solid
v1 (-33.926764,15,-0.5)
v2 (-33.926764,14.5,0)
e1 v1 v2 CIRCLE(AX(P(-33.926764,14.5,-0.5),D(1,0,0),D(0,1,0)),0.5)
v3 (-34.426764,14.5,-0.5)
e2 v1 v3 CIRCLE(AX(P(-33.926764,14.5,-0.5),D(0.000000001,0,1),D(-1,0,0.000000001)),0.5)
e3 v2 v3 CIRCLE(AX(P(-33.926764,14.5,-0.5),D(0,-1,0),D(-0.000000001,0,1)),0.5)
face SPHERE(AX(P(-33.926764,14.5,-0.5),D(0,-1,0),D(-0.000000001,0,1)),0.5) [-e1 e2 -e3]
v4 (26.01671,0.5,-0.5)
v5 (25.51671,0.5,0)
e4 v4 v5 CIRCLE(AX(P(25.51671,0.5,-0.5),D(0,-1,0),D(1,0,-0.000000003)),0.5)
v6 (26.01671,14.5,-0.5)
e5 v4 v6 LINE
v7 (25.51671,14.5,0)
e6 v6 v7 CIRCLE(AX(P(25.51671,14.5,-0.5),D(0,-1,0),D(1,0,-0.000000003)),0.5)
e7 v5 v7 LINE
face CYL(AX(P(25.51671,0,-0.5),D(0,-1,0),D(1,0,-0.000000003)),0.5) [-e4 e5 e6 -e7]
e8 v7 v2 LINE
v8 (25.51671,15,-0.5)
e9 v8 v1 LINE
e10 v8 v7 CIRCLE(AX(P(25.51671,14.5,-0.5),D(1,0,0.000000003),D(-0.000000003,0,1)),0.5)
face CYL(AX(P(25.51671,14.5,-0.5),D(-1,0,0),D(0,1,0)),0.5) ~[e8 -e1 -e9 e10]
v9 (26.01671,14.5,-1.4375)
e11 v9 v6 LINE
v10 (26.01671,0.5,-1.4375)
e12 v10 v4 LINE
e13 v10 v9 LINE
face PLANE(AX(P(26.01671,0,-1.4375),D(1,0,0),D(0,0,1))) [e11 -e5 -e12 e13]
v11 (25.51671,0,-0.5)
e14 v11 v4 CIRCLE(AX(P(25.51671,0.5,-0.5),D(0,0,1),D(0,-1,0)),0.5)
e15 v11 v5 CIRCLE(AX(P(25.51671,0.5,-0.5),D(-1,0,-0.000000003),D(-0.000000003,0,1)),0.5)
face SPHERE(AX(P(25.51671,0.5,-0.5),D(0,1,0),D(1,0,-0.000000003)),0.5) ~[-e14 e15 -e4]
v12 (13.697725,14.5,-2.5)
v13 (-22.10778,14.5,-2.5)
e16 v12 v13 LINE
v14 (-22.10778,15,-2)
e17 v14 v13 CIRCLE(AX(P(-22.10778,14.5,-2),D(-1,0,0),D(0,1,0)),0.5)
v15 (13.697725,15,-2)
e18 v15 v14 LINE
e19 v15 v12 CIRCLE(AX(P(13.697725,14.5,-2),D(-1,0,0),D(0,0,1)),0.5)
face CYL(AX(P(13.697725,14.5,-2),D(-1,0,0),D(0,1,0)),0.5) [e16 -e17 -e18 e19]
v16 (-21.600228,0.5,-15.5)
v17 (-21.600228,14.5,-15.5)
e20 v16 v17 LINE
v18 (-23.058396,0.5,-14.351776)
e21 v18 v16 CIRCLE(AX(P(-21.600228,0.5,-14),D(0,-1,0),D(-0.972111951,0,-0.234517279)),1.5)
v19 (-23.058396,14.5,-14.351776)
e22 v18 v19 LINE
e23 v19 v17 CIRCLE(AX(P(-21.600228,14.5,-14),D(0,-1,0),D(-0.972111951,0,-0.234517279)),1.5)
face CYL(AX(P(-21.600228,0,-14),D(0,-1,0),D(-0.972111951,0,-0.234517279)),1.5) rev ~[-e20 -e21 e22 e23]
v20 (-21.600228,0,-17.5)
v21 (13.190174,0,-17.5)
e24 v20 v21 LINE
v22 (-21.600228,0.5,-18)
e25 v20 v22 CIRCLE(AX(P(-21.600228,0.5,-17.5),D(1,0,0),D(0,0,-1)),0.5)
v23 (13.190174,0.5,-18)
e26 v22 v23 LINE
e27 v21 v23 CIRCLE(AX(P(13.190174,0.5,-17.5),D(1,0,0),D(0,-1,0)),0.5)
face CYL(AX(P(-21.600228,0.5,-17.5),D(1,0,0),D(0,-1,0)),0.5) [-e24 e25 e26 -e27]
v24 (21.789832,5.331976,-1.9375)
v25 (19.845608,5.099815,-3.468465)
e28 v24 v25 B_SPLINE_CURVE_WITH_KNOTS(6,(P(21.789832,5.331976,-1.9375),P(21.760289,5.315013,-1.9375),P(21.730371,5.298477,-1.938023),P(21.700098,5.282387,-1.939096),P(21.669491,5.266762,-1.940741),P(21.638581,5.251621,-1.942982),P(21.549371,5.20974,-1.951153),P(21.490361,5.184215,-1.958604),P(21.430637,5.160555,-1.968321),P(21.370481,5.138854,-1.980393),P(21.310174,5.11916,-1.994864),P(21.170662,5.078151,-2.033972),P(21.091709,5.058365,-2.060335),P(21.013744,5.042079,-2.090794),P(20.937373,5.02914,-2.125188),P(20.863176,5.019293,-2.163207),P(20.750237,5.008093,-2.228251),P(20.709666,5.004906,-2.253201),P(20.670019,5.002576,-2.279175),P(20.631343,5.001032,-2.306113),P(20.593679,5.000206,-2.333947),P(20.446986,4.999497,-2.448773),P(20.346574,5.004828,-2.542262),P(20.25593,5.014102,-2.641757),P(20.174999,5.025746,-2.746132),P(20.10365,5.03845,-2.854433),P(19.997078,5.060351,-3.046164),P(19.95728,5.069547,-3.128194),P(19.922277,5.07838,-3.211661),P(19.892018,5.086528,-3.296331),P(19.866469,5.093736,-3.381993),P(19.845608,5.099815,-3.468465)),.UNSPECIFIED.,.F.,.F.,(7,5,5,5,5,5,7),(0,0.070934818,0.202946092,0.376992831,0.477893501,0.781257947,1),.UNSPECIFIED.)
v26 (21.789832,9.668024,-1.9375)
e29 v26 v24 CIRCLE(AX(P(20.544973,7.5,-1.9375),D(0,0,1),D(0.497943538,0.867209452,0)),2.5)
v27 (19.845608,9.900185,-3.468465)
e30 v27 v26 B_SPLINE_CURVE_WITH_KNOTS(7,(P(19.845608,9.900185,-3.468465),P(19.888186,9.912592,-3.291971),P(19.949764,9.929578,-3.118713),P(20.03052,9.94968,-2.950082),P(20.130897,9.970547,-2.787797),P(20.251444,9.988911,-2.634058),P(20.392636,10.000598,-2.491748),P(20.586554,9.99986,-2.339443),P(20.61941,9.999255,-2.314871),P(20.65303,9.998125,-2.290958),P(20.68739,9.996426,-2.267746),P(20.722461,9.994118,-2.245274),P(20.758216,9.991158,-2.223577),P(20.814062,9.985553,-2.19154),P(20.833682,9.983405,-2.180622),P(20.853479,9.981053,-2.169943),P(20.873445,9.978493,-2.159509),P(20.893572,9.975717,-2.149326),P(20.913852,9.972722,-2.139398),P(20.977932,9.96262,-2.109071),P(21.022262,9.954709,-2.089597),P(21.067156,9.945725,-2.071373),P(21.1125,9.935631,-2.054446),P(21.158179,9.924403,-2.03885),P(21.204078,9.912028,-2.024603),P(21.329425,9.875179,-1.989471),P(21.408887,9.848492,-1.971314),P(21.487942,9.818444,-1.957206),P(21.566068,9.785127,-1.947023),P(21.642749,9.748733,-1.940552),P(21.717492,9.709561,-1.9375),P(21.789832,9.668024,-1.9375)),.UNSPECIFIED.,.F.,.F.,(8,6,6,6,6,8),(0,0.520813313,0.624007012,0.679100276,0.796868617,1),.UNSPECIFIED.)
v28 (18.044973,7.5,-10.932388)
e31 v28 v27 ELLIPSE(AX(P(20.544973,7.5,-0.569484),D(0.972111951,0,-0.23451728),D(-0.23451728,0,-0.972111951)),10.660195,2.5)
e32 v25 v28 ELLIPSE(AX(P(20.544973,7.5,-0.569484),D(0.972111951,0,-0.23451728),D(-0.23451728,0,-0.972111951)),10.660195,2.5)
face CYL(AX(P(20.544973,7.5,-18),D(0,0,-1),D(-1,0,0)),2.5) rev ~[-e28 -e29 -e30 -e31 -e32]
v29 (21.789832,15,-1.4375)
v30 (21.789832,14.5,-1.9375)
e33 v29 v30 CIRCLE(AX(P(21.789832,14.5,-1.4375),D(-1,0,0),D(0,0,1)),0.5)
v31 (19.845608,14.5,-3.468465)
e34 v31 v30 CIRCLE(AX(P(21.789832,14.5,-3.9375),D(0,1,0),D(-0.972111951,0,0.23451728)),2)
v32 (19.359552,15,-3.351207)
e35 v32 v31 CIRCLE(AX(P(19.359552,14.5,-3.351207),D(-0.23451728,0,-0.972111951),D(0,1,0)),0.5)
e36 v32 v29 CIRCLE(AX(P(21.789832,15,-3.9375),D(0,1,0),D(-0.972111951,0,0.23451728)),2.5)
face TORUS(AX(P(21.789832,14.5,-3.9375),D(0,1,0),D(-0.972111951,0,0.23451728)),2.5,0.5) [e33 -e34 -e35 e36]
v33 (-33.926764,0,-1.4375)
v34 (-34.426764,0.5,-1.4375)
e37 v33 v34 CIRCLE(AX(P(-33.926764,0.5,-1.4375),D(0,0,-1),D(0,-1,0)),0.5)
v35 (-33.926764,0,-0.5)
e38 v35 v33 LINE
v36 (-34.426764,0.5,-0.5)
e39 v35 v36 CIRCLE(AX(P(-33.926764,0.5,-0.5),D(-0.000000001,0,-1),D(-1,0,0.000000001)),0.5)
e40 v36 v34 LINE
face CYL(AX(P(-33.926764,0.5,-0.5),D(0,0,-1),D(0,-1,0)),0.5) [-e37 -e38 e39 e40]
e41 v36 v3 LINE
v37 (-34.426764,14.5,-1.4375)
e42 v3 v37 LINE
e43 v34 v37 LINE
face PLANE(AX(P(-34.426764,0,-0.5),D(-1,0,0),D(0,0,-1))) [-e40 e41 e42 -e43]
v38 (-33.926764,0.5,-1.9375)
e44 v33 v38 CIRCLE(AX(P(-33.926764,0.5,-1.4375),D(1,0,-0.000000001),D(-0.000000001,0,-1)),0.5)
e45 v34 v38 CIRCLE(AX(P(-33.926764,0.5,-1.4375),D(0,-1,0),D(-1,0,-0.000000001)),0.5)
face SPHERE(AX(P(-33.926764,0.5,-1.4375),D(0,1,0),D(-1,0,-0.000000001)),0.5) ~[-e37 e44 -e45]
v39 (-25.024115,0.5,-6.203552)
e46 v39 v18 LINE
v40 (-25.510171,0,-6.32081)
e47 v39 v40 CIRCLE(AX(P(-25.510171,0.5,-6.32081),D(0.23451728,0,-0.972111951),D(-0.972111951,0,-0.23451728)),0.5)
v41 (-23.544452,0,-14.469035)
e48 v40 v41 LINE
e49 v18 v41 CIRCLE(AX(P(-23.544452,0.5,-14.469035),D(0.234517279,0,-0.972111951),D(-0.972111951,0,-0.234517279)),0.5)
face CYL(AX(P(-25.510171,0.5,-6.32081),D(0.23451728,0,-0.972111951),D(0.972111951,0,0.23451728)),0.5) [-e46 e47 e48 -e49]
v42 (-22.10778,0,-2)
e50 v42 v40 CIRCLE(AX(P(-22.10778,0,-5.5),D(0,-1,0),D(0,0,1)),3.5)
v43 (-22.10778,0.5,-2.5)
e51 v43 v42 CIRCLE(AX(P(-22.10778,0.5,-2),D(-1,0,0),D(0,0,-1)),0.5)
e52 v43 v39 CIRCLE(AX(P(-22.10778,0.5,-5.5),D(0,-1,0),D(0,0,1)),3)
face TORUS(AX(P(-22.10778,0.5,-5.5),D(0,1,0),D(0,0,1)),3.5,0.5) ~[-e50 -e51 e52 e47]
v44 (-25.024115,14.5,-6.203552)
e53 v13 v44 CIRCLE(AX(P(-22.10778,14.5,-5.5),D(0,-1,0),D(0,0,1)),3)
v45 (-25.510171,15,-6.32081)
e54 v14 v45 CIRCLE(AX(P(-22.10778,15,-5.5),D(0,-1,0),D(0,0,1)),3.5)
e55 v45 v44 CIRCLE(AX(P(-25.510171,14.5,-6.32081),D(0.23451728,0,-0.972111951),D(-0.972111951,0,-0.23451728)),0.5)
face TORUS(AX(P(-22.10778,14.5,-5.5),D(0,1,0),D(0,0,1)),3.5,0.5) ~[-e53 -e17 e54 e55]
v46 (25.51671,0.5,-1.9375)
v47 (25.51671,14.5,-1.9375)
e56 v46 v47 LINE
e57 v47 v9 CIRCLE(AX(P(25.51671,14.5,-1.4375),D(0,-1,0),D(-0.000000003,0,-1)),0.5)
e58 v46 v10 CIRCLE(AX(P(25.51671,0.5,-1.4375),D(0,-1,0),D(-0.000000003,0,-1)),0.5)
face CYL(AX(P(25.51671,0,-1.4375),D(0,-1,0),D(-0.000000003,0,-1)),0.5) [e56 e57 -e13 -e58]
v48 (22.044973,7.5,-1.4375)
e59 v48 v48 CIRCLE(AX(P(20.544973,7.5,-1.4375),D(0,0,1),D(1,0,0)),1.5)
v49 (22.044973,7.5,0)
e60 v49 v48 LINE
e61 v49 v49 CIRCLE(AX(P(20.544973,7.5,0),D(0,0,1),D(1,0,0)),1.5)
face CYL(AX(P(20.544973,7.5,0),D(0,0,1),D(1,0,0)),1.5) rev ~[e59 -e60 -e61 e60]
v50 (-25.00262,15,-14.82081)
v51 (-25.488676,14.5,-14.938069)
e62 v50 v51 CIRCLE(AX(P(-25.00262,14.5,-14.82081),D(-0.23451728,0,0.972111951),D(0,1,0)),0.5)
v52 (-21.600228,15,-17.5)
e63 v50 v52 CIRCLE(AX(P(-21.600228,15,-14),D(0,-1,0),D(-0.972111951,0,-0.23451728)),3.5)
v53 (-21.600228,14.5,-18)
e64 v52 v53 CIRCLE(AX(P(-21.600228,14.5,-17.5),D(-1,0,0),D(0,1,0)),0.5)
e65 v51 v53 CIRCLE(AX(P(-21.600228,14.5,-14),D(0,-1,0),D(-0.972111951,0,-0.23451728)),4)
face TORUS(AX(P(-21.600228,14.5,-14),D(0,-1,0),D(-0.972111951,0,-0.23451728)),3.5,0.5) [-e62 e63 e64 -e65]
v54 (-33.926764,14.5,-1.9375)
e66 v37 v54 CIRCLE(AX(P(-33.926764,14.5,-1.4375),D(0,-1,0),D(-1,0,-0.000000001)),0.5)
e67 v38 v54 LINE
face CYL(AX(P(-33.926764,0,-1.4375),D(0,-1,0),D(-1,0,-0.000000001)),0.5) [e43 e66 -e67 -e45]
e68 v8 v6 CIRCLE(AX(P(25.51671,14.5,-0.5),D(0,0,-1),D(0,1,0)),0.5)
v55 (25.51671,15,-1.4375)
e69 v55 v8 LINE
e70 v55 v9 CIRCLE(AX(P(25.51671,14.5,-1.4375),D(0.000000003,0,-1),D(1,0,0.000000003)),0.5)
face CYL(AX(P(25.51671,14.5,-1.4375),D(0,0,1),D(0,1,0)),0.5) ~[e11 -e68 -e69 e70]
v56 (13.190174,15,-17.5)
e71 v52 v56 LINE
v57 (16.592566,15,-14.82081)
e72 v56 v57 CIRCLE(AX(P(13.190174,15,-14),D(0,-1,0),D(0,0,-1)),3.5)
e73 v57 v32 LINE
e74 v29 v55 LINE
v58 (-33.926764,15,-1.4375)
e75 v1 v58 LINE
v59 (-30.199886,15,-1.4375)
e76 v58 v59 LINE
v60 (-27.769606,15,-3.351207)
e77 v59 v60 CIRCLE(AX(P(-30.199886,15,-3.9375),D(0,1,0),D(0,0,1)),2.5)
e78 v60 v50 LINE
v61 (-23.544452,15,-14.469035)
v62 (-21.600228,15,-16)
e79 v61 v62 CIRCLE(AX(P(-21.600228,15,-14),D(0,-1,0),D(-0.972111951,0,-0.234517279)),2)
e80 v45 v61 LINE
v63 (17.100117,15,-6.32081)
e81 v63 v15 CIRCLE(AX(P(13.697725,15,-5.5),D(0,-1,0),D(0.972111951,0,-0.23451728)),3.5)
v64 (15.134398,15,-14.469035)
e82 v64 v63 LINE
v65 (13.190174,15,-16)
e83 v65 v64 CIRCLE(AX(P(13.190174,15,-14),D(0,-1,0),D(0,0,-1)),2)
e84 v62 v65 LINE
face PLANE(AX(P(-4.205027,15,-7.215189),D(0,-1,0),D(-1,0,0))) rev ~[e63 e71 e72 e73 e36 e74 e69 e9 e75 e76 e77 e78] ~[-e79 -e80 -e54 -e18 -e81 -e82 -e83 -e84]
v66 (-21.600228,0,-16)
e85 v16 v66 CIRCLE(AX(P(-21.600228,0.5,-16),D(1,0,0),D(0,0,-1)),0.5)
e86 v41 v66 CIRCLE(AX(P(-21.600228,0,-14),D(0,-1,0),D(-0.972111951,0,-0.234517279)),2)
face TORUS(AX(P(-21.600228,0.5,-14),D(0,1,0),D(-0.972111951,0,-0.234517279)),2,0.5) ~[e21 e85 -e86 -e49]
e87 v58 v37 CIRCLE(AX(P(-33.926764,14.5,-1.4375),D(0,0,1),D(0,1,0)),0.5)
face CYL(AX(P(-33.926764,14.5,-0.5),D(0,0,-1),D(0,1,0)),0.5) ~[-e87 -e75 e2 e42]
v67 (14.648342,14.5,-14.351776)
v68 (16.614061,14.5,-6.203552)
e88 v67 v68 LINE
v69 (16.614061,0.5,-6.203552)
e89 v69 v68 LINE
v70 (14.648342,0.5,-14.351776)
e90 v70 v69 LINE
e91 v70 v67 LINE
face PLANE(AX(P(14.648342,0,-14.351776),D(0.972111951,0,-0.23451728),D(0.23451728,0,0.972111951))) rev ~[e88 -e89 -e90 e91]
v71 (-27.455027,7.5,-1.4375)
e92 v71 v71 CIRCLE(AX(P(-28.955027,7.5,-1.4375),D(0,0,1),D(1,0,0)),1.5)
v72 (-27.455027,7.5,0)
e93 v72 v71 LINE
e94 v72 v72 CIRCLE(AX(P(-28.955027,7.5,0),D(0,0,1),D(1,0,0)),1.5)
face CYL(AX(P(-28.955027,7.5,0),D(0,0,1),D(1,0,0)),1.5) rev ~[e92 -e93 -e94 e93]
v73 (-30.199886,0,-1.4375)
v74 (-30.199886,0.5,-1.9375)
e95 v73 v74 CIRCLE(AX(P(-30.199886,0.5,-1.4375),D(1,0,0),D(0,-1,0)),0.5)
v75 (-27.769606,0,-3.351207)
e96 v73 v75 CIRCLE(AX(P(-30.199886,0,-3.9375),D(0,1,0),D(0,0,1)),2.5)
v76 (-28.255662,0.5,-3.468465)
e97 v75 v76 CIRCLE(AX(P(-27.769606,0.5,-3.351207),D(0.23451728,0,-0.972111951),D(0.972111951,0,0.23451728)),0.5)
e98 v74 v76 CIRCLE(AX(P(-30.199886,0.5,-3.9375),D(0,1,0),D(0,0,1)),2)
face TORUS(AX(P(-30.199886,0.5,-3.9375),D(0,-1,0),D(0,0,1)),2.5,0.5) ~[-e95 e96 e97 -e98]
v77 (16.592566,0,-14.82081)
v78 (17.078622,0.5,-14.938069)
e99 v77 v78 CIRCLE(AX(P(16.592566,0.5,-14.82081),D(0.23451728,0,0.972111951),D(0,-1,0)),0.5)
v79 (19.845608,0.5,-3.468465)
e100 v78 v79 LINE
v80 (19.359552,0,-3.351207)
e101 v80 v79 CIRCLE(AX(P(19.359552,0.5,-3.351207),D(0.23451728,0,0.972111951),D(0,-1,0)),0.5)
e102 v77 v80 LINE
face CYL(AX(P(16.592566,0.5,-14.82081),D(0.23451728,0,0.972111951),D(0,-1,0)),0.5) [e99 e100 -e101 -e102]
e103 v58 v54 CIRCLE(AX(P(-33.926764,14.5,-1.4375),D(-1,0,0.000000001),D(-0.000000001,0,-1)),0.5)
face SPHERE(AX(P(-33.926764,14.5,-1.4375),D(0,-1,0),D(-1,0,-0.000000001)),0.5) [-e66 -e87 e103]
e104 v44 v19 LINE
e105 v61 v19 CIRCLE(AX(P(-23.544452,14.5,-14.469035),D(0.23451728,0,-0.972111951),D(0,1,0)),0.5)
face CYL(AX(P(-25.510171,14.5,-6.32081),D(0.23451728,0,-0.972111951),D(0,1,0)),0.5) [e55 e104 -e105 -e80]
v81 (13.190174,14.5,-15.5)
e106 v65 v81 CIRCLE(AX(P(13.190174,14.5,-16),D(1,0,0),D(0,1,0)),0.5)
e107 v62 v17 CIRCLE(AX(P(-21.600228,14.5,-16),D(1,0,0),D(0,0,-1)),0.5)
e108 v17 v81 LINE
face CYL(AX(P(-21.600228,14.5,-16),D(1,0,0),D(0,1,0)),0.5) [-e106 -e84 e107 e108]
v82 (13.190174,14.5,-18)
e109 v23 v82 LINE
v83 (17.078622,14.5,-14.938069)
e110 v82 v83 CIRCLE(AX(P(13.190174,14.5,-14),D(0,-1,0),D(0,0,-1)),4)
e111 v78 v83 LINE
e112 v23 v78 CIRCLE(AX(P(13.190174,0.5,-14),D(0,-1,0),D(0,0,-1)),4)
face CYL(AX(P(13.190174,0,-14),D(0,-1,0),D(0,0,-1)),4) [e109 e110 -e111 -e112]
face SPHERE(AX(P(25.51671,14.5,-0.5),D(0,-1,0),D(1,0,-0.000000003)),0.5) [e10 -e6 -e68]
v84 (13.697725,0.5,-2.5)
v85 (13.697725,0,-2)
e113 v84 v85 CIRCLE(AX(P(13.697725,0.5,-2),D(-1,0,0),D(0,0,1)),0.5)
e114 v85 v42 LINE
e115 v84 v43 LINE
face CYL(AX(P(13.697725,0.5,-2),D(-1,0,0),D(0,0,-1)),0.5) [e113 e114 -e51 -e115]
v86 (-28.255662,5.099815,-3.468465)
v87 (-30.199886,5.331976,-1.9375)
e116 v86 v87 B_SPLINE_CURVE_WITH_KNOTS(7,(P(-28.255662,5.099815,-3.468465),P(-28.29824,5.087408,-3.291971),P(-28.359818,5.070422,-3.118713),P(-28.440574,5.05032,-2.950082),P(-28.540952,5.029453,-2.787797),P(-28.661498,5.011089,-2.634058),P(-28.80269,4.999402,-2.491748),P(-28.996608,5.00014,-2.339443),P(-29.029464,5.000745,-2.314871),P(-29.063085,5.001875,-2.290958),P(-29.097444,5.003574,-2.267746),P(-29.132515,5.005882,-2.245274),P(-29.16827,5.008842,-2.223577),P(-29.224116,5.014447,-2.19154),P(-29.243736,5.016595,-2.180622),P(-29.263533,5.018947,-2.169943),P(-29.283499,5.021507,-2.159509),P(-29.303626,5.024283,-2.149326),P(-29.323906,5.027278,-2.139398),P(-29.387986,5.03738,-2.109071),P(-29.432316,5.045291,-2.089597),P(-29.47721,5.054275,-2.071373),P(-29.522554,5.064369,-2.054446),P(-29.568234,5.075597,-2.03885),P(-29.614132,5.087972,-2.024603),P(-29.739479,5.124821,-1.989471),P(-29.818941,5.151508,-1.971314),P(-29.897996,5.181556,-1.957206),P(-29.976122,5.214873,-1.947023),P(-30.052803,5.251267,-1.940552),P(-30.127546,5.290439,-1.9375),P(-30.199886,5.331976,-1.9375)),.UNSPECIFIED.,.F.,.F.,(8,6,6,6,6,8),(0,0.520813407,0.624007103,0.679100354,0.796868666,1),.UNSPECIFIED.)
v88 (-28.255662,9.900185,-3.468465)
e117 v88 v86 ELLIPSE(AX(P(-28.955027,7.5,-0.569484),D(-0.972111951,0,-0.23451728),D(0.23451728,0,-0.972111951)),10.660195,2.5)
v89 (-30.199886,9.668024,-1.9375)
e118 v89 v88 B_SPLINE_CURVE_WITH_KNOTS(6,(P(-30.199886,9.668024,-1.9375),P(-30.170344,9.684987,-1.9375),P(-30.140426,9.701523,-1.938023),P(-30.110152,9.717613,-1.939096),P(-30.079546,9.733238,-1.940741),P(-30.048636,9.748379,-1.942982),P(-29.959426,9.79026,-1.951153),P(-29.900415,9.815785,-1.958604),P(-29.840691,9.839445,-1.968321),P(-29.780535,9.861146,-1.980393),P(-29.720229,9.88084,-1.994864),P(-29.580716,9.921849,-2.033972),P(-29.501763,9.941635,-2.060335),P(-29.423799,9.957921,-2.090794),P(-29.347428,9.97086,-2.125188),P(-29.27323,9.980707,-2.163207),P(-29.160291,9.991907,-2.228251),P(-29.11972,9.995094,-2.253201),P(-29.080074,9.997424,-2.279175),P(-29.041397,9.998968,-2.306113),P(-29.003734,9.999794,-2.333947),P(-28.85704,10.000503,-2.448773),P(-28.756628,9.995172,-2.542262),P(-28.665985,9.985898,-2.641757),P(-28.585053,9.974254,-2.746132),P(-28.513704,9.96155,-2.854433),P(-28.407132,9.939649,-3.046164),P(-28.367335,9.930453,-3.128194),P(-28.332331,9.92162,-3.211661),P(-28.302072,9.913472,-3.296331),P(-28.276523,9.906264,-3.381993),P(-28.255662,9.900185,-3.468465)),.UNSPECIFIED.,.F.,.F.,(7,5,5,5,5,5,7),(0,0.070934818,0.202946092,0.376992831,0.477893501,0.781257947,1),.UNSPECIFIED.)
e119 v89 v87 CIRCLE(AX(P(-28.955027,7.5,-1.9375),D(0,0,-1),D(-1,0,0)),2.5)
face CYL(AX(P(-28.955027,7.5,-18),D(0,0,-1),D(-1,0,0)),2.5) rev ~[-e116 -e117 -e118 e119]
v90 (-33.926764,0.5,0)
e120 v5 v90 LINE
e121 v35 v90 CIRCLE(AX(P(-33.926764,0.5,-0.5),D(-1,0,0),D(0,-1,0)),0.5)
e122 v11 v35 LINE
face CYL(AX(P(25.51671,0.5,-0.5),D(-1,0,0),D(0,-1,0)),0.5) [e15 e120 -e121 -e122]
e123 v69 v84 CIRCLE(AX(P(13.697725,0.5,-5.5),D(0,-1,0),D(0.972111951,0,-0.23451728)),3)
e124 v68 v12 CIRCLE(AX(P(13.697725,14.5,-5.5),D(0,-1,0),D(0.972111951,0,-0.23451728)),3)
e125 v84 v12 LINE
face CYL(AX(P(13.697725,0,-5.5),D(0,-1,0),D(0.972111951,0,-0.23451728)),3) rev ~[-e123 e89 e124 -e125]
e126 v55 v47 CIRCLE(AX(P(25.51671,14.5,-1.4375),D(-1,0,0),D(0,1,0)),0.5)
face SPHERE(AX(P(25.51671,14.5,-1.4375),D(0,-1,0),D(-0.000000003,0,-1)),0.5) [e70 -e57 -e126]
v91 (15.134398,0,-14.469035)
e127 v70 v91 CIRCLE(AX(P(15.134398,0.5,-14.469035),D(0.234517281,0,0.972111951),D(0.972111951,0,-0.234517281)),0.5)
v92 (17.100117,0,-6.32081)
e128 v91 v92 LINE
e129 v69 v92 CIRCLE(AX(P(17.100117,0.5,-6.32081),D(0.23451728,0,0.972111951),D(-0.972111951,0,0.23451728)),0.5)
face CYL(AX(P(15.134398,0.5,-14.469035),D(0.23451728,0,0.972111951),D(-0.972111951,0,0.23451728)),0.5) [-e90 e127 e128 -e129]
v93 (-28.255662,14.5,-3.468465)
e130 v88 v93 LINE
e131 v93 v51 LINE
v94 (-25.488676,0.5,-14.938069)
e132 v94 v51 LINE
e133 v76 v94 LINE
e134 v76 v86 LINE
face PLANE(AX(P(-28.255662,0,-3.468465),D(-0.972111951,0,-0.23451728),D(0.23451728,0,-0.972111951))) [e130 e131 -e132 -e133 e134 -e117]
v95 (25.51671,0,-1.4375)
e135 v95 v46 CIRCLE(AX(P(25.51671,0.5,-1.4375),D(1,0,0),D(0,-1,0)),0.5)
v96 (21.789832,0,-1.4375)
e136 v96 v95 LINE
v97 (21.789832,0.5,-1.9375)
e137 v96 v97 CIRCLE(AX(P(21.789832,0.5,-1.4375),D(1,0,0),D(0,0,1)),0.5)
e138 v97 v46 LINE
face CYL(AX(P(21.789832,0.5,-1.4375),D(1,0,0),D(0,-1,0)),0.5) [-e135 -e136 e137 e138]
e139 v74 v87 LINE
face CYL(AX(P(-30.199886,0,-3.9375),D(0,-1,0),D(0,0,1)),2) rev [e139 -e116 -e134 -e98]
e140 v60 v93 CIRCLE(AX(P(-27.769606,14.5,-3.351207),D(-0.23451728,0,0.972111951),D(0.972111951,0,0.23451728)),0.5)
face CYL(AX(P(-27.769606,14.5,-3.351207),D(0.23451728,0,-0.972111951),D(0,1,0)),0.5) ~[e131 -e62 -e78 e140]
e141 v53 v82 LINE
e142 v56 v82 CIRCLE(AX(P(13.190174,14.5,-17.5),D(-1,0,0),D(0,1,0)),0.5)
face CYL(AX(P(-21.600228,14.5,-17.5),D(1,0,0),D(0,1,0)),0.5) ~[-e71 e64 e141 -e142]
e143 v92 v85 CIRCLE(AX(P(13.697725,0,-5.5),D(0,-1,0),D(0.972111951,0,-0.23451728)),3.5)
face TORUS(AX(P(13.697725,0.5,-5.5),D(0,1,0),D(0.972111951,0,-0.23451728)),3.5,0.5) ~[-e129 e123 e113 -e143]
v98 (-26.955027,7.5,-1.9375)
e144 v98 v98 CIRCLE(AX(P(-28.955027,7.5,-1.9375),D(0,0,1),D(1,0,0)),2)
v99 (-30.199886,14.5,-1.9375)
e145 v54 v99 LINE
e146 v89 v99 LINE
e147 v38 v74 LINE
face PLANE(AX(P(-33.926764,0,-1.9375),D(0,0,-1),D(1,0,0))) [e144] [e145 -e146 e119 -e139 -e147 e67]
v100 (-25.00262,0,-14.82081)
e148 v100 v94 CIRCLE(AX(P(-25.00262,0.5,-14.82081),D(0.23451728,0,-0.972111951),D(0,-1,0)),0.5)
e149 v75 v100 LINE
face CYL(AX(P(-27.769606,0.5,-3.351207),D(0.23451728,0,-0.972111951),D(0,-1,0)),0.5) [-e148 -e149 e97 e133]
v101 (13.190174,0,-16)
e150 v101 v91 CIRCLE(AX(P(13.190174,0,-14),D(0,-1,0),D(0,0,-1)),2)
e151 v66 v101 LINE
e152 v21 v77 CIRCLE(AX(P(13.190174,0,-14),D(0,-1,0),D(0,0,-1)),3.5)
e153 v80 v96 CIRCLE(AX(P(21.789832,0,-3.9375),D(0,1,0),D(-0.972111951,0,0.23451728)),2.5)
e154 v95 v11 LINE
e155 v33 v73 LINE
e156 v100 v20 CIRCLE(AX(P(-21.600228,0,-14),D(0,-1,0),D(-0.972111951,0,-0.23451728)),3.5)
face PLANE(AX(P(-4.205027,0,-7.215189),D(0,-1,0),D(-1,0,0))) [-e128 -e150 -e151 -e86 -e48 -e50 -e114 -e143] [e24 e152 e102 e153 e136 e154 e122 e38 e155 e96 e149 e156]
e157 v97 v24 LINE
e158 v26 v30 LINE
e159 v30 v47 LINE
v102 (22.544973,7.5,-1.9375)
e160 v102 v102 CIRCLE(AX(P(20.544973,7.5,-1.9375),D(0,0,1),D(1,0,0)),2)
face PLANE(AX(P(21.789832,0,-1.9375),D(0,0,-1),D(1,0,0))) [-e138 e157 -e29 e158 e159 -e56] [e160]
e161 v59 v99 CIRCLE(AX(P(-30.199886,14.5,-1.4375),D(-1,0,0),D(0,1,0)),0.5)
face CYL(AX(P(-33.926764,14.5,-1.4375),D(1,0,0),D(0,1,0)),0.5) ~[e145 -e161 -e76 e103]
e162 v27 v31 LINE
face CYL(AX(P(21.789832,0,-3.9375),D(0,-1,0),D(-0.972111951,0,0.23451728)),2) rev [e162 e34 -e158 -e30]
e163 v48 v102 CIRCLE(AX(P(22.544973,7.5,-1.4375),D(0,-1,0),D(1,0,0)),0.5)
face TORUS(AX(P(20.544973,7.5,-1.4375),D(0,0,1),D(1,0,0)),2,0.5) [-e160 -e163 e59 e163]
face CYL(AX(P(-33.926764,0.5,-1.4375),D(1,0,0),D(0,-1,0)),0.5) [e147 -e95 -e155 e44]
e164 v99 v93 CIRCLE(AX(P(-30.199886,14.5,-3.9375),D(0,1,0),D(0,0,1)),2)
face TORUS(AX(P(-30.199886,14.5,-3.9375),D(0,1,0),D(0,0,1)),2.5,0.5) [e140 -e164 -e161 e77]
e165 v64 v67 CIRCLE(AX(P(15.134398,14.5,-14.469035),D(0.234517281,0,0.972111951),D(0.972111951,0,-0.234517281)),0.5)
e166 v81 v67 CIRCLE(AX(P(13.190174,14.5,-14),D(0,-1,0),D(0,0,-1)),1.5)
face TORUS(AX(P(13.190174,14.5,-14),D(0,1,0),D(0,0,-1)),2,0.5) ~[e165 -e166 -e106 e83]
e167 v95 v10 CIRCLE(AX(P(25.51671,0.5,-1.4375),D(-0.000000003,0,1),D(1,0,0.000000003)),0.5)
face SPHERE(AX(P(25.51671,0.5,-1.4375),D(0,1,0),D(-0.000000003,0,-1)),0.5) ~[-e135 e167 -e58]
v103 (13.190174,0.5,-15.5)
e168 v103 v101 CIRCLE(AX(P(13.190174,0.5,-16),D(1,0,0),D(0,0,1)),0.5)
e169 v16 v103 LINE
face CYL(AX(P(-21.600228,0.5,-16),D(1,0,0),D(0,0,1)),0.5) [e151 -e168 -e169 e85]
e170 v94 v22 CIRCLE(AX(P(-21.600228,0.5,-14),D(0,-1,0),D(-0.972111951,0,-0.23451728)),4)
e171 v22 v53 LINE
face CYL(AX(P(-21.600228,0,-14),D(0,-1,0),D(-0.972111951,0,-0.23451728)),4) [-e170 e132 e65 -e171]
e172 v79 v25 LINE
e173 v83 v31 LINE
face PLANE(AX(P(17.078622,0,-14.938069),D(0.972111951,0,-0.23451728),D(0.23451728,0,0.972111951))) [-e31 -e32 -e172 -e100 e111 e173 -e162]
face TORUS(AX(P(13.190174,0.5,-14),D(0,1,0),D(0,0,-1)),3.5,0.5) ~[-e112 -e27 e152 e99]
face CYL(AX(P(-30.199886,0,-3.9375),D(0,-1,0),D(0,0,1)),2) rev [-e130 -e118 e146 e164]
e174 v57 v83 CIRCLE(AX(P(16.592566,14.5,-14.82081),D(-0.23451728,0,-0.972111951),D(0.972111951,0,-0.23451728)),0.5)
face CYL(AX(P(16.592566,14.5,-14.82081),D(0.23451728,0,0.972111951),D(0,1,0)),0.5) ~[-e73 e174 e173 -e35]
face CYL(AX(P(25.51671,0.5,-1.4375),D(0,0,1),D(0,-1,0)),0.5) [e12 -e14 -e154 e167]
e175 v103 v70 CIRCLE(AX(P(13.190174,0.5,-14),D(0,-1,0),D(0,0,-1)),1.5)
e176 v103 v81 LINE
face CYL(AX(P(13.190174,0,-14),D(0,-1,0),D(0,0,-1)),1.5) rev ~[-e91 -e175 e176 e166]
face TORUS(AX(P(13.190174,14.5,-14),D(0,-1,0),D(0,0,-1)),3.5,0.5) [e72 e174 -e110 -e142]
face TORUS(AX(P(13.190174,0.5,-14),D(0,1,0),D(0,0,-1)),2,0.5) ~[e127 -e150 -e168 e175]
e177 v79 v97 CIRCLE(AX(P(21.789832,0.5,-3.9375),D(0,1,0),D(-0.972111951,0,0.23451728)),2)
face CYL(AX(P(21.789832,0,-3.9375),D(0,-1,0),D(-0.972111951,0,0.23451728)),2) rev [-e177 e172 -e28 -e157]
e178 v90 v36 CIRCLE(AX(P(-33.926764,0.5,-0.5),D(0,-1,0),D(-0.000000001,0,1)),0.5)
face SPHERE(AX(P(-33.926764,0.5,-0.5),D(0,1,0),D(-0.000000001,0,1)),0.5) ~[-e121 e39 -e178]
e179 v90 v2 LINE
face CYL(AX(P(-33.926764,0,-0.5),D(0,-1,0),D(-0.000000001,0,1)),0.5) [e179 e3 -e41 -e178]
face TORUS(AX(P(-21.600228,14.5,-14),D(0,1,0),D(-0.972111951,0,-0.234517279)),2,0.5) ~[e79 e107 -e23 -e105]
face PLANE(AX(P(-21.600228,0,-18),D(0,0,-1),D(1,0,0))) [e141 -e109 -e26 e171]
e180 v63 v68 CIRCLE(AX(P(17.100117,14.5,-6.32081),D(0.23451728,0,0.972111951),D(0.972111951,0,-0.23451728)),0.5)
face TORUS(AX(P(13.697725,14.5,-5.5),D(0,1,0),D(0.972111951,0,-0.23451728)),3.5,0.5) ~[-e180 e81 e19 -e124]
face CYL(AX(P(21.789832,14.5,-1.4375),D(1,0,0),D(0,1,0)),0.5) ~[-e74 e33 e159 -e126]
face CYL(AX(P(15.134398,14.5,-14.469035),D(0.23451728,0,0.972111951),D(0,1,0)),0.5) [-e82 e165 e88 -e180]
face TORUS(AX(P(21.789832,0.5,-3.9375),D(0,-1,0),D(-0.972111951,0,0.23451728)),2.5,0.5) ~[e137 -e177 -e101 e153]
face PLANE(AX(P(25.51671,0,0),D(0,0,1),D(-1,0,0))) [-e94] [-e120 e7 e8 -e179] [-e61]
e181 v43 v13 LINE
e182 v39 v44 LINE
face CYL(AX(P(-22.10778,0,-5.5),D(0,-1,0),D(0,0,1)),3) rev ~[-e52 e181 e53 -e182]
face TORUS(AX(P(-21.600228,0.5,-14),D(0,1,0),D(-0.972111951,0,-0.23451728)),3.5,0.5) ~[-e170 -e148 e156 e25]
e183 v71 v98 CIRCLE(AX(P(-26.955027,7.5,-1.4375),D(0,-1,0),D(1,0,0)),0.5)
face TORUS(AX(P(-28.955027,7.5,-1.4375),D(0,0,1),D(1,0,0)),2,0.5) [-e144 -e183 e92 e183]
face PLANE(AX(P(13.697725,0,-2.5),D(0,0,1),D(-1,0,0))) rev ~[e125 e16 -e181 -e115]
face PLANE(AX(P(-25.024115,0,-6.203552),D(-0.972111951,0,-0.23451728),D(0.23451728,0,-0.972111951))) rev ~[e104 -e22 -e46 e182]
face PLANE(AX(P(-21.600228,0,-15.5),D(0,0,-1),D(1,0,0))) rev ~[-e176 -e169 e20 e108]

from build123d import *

# Parameters (mm, degrees)
BOSS_EXTRUDE3_DEPTH = 15
SKETCH9_R           = 1.5
CUT_EXTRUDE1_DEPTH  = 15
SKETCH10_R          = 2.5
CUT_EXTRUDE2_DEPTH  = 16.0625
FILLET1_R           = 0.5


with BuildPart() as part:
    # Sketch1 → Boss-Extrude3 (new body)
    with BuildSketch(Plane(origin=(0, 0, 0), x_dir=(1, 0, 0), z_dir=(0, 1, 0))):
        with BuildLine():
            ThreePointArc((13.190173945, 18), (15.664817709, 17.142632374), (17.078621749, 14.93806912))
            Line((17.078621749, 14.93806912), (19.845607851, 3.46846544))
            ThreePointArc((19.845607851, 3.46846544), (20.552509871, 2.366183813), (21.789831753, 1.9375))
            Line((21.789831753, 1.9375), (25.516709926, 1.9375))
            ThreePointArc((25.516709926, 1.9375), (25.870263317, 1.791053391), (26.016709926, 1.4375))
            Line((26.016709926, 1.4375), (26.016709926, 0.5))
            ThreePointArc((26.016709926, 0.5), (25.870263317, 0.146446609), (25.516709926, 0))
            Line((25.516709926, 0), (-33.926764109, 0))
            ThreePointArc((-33.926764109, 0), (-34.280317499, 0.146446609), (-34.426764109, 0.5))
            Line((-34.426764109, 0.5), (-34.426764109, 1.4375))
            ThreePointArc((-34.426764109, 1.4375), (-34.280317499, 1.791053391), (-33.926764109, 1.9375))
            Line((-33.926764109, 1.9375), (-30.199885936, 1.9375))
            ThreePointArc((-30.199885936, 1.9375), (-28.962564054, 2.366183813), (-28.255662034, 3.46846544))
            Line((-28.255662034, 3.46846544), (-25.488675932, 14.93806912))
            ThreePointArc((-25.488675932, 14.93806912), (-24.074871892, 17.142632374), (-21.600228128, 18))
            Line((-21.600228128, 18), (13.190173945, 18))
        make_face()
        with BuildLine():
            Line((-21.600228128, 15.5), (13.190173945, 15.5))
            ThreePointArc((13.190173945, 15.5), (14.118165357, 15.17848714), (14.648341872, 14.35177592))
            Line((14.648341872, 14.35177592), (16.6140613, 6.20355184))
            ThreePointArc((16.6140613, 6.20355184), (16.054699727, 3.644017177), (13.697725446, 2.5))
            Line((13.697725446, 2.5), (-22.107779629, 2.5))
            ThreePointArc((-22.107779629, 2.5), (-24.46475391, 3.644017177), (-25.024115482, 6.20355184))
            Line((-25.024115482, 6.20355184), (-23.058396054, 14.35177592))
            ThreePointArc((-23.058396054, 14.35177592), (-22.52821954, 15.17848714), (-21.600228128, 15.5))
        make_face(mode=Mode.SUBTRACT)
    extrude(amount=BOSS_EXTRUDE3_DEPTH)

    # Sketch9 → Cut-Extrude1 (cut)
    with BuildSketch(Plane.XY):
        with Locations((-28.955027091, 7.5)):
            Circle(SKETCH9_R)
        with Locations((20.544972909, 7.5)):
            Circle(SKETCH9_R)
    extrude(amount=-CUT_EXTRUDE1_DEPTH, mode=Mode.SUBTRACT)

    # Sketch10 → Cut-Extrude2 (cut)
    with BuildSketch(Plane(origin=(0, 0, -18), x_dir=(-1, 0, 0), z_dir=(0, 0, -1))):
        with Locations((-20.544972909, 7.5)):
            Circle(SKETCH10_R)
        with Locations((28.955027091, 7.5)):
            Circle(SKETCH10_R)
    extrude(amount=-CUT_EXTRUDE2_DEPTH, mode=Mode.SUBTRACT)

    # Fillet1
    fillet1_edges = [part.edges().sort_by_distance(p)[0] for p in [
        (16.054699727, 15, -3.644017177),
        (-4.205027091, 15, -2.5),
        (-24.46475391, 15, -3.644017177),
        (-24.041255768, 15, -10.27766388),
        (-4.205027091, 15, -18),
        (-22.52821954, 15, -15.17848714),
        (-24.074871892, 15, -17.142632374),
        (-26.872168983, 15, -9.20326728),
        (-22.52821954, 0, -15.17848714),
        (-24.041255768, 0, -10.27766388),
        (-28.962564054, 15, -2.366183813),
        (-24.46475391, 0, -3.644017177),
        (-4.205027091, 0, -2.5),
        (16.054699727, 0, -3.644017177),
        (15.631201586, 0, -10.27766388),
        (14.118165357, 0, -15.17848714),
        (-4.205027091, 0, -15.5),
        (18.4621148, 0, -9.20326728),
        (20.552509871, 0, -2.366183813),
        (23.65327084, 0, -1.9375),
        (25.870263317, 0, -1.791053391),
        (-32.063325022, 15, -1.9375),
        (26.016709926, 0, -0.96875),
        (25.870263317, 0, -0.146446609),
        (-4.205027091, 0, 0),
        (-34.280317499, 0, -0.146446609),
        (-34.426764109, 0, -0.96875),
        (-34.280317499, 0, -1.791053391),
        (-32.063325022, 0, -1.9375),
        (-28.962564054, 0, -2.366183813),
        (-26.872168983, 0, -9.20326728),
        (-24.074871892, 0, -17.142632374),
        (-34.280317499, 15, -1.791053391),
        (-4.205027091, 0, -18),
        (15.664817709, 0, -17.142632374),
        (-34.426764109, 15, -0.96875),
        (-34.280317499, 15, -0.146446609),
        (-4.205027091, 15, 0),
        (25.870263317, 15, -0.146446609),
        (26.016709926, 15, -0.96875),
        (25.870263317, 15, -1.791053391),
        (15.664817709, 15, -17.142632374),
        (23.65327084, 15, -1.9375),
        (20.552509871, 15, -2.366183813),
        (-30.455027091, 7.5, -1.9375),
        (18.4621148, 15, -9.20326728),
        (19.044972909, 7.5, -1.9375),
        (-4.205027091, 15, -15.5),
        (14.118165357, 15, -15.17848714),
        (15.631201586, 15, -10.27766388),
    ]]
    fillet(fillet1_edges, radius=FILLET1_R)


solid = part.part
